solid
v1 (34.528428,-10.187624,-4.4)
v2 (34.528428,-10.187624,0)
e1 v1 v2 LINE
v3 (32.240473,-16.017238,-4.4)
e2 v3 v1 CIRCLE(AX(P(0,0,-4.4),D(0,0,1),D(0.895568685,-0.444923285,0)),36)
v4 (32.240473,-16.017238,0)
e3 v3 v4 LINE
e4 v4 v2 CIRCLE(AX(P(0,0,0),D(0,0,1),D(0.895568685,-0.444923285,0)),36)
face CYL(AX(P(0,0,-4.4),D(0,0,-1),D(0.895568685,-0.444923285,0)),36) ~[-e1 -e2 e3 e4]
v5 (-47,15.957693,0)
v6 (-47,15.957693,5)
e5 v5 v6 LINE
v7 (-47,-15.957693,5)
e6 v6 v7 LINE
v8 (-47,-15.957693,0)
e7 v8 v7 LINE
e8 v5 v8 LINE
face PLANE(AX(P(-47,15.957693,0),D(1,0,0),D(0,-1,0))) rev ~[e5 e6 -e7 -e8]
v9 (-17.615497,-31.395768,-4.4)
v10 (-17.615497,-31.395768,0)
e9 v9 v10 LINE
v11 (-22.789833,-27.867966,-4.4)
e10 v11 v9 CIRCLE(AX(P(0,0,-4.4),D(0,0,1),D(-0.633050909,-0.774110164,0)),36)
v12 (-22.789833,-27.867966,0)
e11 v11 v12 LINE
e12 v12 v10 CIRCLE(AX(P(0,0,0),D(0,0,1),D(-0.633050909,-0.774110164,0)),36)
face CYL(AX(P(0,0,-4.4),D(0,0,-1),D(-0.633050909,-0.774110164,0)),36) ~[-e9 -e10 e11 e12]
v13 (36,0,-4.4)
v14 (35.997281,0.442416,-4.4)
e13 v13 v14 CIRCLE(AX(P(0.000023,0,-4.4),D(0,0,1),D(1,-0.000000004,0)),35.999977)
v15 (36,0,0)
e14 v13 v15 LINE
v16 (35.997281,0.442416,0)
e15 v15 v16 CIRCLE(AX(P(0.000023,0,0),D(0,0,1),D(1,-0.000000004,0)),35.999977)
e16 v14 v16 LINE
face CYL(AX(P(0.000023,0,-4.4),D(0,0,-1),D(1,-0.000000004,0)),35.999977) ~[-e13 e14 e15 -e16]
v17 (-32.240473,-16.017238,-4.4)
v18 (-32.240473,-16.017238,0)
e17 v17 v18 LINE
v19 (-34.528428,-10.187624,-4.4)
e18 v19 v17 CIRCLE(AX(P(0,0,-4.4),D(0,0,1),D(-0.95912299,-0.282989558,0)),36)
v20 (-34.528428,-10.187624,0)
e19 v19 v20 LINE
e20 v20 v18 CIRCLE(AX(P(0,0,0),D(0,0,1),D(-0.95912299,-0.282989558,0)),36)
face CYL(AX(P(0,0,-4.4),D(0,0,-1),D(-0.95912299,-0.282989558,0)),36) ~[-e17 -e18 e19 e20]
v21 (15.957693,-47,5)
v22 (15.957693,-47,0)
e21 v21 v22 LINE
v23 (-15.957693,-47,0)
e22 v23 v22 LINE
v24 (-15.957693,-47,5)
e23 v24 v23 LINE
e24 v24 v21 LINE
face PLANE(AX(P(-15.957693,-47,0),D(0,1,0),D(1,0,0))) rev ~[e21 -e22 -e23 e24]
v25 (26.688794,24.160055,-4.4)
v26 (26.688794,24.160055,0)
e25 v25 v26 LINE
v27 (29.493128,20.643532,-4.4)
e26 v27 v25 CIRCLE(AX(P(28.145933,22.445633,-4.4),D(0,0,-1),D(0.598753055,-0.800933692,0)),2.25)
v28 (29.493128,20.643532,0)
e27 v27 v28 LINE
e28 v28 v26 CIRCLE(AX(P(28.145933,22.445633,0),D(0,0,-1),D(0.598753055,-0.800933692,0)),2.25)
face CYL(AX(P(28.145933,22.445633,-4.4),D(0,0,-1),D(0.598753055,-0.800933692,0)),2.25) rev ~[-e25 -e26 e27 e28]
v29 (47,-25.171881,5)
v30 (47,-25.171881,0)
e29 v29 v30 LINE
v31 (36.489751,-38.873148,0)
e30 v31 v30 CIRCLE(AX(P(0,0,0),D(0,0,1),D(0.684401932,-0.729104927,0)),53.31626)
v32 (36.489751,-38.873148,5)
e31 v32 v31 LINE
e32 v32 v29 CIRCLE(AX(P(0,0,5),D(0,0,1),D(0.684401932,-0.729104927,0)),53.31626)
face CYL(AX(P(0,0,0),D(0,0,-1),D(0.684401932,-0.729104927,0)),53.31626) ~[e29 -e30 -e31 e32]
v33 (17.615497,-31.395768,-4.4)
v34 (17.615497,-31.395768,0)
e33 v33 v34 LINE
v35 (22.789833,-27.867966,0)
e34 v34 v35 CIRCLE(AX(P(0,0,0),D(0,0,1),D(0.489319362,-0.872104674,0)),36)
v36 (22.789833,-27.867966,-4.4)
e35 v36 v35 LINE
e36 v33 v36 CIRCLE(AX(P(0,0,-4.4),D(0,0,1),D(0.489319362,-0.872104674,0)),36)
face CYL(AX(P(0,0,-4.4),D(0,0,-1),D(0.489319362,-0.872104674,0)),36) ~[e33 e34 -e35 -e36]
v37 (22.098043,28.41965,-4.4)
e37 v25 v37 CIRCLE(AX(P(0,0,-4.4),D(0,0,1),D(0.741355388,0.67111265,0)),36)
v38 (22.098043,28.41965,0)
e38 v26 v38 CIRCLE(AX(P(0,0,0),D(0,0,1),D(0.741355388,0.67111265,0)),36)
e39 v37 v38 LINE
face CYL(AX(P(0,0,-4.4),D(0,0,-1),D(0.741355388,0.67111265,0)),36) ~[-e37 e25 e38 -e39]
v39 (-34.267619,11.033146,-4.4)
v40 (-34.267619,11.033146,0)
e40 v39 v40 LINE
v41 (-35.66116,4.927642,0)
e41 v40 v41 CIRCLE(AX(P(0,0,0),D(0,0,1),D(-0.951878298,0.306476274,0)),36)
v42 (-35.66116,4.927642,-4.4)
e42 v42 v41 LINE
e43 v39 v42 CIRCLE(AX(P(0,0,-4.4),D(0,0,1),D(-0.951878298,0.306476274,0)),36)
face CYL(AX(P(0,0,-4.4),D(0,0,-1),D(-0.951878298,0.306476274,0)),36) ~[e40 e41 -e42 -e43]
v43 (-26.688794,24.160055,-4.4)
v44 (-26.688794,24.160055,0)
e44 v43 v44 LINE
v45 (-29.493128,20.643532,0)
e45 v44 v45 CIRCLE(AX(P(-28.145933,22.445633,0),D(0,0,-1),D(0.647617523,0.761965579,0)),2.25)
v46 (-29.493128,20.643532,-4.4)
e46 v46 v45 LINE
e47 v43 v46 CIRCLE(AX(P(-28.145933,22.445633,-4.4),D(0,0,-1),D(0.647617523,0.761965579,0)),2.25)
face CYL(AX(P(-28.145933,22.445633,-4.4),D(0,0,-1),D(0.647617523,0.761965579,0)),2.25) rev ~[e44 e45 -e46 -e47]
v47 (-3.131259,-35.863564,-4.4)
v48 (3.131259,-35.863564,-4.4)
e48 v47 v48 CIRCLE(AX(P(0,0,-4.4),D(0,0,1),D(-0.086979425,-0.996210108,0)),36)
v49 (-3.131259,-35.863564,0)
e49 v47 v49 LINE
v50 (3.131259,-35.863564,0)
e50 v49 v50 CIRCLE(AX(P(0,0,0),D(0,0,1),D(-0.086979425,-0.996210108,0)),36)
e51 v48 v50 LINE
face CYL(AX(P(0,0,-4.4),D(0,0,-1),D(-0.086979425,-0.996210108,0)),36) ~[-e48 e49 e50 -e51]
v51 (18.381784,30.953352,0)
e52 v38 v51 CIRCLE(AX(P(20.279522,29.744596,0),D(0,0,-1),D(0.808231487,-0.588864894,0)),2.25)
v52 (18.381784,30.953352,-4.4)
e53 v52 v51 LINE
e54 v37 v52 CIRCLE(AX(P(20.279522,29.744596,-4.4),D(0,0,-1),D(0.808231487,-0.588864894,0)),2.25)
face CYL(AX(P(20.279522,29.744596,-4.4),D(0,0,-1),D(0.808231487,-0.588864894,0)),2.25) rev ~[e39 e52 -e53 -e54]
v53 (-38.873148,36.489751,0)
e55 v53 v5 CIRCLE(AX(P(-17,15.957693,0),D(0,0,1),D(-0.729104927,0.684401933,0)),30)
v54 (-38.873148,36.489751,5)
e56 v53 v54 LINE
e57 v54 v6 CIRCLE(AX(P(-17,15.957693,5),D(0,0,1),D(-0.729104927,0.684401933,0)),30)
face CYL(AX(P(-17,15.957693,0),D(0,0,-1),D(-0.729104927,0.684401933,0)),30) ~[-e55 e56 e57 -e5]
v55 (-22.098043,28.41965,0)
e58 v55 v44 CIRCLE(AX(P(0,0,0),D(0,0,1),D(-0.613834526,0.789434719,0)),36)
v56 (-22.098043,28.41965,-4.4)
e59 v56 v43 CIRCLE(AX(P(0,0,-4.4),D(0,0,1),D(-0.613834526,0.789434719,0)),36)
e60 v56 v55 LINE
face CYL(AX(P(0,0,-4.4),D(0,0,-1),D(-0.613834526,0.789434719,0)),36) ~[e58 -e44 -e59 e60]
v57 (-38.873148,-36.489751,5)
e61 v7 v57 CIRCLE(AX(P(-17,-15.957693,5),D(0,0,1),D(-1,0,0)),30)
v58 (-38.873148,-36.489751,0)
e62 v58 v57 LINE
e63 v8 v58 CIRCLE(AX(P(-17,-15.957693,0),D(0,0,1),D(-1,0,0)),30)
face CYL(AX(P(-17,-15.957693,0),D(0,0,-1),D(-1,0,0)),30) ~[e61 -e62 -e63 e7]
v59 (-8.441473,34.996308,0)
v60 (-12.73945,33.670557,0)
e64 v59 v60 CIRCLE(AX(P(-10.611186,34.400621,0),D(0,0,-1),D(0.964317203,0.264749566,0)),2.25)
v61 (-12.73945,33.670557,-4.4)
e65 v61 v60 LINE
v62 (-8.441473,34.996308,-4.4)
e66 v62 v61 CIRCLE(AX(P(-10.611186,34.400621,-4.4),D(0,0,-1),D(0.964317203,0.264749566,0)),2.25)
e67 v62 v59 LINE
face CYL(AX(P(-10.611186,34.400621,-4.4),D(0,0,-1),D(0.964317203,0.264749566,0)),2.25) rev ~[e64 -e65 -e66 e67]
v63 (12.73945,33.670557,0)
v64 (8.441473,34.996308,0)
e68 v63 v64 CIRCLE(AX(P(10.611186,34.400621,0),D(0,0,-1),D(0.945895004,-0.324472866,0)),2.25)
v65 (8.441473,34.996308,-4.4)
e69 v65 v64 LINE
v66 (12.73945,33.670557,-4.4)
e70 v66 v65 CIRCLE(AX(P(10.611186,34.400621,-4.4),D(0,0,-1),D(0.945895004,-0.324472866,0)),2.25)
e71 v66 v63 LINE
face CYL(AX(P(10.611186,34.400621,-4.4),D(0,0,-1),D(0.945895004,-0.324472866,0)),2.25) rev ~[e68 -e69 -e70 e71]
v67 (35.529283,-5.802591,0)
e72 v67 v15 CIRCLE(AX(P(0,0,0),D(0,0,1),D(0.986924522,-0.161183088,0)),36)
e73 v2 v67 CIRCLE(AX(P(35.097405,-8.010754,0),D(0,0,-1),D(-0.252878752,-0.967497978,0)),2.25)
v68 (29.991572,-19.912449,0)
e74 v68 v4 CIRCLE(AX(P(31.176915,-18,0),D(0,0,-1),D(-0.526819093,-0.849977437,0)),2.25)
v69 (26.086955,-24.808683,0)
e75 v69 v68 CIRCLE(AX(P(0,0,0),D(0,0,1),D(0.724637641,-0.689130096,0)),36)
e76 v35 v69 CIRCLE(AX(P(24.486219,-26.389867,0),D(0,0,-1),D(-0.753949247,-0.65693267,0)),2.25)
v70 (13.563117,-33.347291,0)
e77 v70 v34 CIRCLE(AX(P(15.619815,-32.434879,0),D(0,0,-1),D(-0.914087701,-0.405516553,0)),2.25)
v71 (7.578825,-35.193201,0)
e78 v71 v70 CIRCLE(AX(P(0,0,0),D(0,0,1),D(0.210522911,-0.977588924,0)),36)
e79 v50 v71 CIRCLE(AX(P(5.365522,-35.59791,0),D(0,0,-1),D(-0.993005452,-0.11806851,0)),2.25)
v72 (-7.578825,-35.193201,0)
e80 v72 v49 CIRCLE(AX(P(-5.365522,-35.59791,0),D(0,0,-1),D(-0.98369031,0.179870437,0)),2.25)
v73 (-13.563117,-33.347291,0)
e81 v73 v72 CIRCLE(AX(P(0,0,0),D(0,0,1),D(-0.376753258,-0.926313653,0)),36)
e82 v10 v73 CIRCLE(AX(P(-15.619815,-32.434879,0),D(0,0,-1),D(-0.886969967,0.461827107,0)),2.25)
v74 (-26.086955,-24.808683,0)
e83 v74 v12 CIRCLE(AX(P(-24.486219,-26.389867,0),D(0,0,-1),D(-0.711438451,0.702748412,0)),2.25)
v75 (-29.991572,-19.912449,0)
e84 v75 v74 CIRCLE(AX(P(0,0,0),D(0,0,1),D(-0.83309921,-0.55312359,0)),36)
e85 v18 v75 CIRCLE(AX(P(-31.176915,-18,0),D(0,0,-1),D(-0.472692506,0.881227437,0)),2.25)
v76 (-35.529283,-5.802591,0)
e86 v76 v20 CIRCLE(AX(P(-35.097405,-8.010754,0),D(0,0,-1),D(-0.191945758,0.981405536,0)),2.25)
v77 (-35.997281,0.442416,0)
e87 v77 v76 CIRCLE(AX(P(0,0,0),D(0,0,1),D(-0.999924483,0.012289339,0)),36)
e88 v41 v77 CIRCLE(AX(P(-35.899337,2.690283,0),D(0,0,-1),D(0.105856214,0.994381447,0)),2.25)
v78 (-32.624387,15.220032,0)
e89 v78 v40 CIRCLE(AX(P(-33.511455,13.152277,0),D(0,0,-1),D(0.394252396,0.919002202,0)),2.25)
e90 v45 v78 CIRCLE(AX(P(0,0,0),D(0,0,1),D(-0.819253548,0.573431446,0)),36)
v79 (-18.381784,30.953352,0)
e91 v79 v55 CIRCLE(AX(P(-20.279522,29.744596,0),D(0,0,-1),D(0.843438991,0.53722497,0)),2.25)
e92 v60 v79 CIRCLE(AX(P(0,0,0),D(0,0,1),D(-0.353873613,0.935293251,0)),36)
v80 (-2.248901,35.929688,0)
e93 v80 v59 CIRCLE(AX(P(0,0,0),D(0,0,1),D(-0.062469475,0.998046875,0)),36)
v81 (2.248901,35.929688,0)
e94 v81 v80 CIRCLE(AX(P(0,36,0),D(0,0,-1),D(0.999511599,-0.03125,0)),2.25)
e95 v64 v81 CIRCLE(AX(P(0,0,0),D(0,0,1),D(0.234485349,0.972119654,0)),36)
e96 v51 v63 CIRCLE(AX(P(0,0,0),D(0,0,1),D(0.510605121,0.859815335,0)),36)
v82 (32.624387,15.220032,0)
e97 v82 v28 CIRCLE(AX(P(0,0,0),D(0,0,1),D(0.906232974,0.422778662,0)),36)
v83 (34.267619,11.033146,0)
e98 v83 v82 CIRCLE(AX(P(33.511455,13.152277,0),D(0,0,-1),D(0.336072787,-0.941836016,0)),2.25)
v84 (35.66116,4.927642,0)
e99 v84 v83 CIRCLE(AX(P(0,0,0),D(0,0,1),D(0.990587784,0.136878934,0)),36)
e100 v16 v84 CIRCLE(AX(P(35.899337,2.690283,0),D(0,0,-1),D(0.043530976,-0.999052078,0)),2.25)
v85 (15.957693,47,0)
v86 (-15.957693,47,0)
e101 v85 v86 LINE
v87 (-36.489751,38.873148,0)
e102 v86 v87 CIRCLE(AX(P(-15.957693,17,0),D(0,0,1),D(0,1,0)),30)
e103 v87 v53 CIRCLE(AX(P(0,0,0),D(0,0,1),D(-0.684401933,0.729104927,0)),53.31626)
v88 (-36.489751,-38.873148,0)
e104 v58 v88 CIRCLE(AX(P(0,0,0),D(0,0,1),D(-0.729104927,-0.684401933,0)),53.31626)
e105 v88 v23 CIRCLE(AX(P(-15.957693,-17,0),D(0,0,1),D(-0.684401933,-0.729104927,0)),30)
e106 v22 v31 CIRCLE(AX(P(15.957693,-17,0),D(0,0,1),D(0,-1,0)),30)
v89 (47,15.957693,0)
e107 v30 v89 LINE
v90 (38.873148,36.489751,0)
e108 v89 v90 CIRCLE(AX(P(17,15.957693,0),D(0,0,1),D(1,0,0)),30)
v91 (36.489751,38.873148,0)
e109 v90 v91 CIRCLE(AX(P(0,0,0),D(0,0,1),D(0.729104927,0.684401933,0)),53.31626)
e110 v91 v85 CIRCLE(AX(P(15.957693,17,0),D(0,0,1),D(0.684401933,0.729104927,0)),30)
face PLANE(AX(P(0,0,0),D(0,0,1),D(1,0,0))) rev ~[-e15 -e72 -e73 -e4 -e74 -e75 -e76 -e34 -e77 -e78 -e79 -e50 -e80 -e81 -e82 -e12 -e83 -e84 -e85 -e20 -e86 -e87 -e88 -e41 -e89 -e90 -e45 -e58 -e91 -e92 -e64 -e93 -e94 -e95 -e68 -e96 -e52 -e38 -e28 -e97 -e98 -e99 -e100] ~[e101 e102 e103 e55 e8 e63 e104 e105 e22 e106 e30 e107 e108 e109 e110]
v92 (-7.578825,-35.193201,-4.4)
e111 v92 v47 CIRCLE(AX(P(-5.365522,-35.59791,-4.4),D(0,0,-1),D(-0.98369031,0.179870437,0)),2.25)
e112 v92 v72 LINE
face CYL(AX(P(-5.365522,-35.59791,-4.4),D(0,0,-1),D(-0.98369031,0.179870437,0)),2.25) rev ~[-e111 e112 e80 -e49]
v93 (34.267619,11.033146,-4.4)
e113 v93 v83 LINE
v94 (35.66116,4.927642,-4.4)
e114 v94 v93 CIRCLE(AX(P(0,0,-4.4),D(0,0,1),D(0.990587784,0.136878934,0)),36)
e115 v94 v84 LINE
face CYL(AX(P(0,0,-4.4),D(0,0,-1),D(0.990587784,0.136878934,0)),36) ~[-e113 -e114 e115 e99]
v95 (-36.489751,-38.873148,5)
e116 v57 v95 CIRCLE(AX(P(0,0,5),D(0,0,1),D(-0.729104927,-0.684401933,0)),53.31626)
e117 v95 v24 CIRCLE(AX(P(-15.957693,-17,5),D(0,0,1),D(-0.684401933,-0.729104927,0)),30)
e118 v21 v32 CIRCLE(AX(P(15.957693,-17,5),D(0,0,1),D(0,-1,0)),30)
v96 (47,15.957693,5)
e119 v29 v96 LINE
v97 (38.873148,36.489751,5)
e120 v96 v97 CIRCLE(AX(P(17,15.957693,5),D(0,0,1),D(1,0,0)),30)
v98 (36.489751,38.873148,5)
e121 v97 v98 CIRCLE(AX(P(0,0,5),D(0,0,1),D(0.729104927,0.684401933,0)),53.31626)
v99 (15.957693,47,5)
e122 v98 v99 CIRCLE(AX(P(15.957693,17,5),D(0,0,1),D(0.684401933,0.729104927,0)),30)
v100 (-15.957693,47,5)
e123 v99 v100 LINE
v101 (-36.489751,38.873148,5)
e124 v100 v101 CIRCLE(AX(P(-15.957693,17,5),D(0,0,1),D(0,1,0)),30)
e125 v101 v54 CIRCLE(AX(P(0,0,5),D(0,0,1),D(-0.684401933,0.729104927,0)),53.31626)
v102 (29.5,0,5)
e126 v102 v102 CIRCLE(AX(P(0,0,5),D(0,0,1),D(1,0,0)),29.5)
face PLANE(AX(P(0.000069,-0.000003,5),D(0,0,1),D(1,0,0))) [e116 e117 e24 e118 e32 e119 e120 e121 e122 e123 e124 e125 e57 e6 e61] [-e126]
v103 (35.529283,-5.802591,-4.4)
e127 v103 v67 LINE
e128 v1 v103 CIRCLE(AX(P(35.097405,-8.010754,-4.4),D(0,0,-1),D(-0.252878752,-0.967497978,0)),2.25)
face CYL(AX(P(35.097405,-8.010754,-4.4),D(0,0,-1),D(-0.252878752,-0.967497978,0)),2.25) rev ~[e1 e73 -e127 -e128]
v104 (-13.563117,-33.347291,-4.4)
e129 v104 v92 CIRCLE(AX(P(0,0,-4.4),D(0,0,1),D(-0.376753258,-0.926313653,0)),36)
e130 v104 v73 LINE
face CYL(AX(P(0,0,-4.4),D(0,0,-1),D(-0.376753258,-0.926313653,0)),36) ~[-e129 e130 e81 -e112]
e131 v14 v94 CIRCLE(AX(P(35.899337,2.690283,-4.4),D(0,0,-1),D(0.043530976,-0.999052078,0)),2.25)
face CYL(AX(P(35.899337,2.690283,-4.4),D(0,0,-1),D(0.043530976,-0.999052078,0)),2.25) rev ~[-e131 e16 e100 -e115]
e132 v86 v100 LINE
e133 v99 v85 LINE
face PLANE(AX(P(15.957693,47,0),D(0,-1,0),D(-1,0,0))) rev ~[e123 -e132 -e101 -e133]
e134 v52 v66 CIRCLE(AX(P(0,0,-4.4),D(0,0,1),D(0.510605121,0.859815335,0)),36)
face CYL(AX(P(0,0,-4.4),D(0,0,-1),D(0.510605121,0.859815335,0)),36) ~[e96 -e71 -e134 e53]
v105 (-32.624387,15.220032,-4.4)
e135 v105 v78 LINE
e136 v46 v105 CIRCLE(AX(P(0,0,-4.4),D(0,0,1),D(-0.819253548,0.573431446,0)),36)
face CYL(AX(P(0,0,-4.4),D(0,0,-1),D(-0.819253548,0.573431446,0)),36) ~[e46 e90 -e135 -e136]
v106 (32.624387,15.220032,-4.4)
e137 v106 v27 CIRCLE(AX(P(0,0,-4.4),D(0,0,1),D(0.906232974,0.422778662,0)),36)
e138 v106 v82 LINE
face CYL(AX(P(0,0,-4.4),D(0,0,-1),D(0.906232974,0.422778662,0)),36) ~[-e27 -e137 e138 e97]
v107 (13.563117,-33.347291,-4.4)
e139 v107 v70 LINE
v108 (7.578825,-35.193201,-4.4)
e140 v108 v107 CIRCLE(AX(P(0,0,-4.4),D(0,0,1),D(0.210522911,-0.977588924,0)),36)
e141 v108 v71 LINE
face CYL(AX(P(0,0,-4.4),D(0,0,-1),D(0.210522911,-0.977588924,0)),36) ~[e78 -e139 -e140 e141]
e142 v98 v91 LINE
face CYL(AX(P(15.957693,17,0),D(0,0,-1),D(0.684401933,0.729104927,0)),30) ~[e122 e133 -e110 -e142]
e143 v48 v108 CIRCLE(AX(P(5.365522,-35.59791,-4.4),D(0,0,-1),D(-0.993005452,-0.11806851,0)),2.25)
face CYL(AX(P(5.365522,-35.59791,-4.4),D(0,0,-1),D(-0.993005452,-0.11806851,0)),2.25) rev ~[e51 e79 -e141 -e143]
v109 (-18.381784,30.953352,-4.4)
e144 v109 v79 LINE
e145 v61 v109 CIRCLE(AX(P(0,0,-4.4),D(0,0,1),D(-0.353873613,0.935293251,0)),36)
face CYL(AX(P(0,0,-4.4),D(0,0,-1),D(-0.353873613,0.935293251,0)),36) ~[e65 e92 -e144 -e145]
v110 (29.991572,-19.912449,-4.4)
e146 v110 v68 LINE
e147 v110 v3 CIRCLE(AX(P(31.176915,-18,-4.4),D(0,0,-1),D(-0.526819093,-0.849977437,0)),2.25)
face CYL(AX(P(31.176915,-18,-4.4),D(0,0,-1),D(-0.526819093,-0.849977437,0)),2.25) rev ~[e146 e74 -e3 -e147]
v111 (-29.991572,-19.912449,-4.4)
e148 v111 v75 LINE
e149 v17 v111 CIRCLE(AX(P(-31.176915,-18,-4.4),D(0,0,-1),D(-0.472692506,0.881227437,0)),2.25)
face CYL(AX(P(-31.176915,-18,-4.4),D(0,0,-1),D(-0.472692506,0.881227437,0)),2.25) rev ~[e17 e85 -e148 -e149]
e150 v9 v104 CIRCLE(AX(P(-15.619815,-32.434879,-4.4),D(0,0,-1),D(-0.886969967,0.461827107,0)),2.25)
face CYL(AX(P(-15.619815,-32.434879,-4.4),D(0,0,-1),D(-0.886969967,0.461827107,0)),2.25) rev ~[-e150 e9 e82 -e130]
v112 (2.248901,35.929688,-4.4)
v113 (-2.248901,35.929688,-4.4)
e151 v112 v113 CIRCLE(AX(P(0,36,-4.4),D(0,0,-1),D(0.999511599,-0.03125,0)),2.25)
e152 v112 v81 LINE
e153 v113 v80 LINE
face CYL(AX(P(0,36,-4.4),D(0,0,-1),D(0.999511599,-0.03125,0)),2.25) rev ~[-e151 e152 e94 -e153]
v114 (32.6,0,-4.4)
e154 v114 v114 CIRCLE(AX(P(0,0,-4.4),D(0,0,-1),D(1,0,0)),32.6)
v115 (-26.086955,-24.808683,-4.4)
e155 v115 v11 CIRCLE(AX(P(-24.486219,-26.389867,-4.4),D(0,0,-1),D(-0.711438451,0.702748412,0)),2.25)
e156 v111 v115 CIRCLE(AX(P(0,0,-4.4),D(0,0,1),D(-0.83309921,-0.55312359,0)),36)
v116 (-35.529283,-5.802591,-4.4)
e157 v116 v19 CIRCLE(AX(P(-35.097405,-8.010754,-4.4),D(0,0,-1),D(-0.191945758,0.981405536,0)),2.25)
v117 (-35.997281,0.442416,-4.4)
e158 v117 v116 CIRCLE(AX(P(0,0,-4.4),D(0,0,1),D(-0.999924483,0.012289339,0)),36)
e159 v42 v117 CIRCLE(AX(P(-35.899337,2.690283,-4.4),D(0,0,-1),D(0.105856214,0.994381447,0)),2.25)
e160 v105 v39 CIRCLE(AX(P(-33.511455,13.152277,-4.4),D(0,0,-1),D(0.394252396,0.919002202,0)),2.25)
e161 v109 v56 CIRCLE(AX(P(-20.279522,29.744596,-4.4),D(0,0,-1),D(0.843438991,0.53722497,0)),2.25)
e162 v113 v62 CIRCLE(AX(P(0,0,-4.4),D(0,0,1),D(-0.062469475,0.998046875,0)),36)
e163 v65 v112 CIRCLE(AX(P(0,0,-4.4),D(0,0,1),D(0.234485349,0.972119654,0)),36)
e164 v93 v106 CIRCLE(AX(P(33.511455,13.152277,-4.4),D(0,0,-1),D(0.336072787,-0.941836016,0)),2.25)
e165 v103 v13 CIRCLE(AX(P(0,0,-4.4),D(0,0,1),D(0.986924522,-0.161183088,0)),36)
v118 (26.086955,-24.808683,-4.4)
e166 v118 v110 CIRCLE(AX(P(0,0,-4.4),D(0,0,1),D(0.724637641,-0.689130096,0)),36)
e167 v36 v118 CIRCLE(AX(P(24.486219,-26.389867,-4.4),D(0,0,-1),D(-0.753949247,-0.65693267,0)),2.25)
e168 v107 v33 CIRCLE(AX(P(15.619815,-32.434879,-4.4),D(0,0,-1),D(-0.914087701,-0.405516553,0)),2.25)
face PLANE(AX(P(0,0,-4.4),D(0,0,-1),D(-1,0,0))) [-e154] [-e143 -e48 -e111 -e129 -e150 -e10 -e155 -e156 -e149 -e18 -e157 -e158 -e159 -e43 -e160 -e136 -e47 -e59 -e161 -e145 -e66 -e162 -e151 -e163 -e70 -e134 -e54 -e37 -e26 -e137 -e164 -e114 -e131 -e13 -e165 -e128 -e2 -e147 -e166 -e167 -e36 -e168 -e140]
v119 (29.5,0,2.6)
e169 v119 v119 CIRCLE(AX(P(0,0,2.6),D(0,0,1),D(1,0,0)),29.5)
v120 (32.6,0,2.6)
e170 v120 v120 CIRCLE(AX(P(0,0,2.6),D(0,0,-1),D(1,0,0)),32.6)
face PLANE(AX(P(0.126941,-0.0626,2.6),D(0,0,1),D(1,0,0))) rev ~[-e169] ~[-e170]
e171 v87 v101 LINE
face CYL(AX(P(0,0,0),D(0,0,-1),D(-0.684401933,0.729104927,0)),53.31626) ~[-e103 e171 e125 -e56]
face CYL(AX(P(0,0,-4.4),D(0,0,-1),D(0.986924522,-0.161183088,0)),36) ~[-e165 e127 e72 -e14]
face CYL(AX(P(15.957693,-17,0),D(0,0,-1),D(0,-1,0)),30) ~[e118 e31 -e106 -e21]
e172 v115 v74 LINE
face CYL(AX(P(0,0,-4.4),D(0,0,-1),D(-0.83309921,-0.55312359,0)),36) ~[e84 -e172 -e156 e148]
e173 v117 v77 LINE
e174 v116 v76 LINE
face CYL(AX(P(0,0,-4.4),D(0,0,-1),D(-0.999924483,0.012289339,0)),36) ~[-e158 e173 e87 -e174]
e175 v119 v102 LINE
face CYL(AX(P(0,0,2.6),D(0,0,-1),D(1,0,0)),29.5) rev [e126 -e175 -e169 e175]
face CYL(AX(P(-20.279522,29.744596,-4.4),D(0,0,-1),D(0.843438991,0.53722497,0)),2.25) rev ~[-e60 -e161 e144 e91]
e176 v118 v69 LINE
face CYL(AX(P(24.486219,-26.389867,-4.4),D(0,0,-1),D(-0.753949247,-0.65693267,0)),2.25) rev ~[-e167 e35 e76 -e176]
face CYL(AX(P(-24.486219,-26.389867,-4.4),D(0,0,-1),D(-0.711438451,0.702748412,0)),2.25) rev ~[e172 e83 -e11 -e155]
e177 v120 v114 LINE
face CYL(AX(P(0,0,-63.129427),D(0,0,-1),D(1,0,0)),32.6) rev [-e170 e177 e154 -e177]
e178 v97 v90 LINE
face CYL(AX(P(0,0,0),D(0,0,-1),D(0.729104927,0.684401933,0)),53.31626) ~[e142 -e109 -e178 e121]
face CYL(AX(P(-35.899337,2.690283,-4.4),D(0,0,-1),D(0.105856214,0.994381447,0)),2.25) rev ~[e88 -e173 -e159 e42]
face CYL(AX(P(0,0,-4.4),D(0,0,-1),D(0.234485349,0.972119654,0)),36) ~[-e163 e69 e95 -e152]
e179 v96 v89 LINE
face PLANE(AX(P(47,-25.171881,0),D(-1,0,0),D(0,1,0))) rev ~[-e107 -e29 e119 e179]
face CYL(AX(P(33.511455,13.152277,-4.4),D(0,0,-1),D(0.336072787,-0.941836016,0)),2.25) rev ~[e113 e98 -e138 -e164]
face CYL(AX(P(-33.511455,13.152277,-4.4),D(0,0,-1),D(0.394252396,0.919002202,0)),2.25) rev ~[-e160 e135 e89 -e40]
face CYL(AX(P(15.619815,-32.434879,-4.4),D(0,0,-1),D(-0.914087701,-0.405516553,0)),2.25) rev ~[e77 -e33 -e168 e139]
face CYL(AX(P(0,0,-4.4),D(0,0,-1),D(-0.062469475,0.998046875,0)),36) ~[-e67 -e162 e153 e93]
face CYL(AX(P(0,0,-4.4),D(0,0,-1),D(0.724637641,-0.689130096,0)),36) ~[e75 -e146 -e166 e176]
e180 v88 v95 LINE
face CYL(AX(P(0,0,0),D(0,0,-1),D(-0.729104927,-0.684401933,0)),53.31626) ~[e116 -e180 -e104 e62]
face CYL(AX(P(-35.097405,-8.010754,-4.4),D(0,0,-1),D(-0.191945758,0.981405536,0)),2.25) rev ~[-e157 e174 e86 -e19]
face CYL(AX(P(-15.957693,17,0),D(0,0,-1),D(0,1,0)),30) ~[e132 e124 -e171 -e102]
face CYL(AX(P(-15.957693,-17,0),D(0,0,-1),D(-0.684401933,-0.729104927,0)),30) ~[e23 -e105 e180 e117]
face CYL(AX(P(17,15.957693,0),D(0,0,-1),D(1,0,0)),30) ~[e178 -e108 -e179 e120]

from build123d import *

# Parameters (mm, degrees)
SKETCH1_R               = 36
BOSS_EXTRUDE1_DEPTH     = 5
BOSS_EXTRUDE2_START     = -4.4
BOSS_EXTRUDE2_DEPTH     = 4.4
BOSS_EXTRUDE3_START     = -5
BOSS_EXTRUDE3_DEPTH     = 5
BOSS_EXTRUDE4_START     = 4.4
SKETCH3_R               = 32.7
SKETCH3_R_2             = 32.6
BOSS_EXTRUDE4_DEPTH     = 4.4
CUT_EXTRUDE1_DEPTH      = 68.129427228
CUT_EXTRUDE1_DEPTH_BACK = 68.129427228
SKETCH4_R               = 32.6
BOSS_EXTRUDE5_START     = -2.4
SKETCH5_R               = 29.5
BOSS_EXTRUDE5_DEPTH     = 2.4


with BuildPart() as part:
    # Sketch1 → Boss-Extrude1 (new body)
    # profile 1 of 3: a face of its own
    with BuildSketch(Plane.XY):
        with BuildLine():
            Line((15.957693357, 47), (-15.957693357, 47))
            ThreePointArc((-15.957693357, 47), (-26.99865268, 44.894394011), (-36.489751331, 38.873147815))
            ThreePointArc((-36.489751331, 38.873147815), (-37.700288946, 37.700288946), (-38.873147815, 36.489751331))
            ThreePointArc((-38.873147815, 36.489751331), (-44.894394011, 26.99865268), (-47, 15.957693357))
            Line((-47, 15.957693357), (-47, -15.957693357))
            ThreePointArc((-47, -15.957693357), (-44.894394011, -26.99865268), (-38.873147815, -36.489751331))
            ThreePointArc((-38.873147815, -36.489751331), (-37.700288946, -37.700288946), (-36.489751331, -38.873147815))
            ThreePointArc((-36.489751331, -38.873147815), (-26.99865268, -44.894394011), (-15.957693357, -47))
            Line((-15.957693357, -47), (15.957693357, -47))
            ThreePointArc((15.957693357, -47), (26.99865268, -44.894394011), (36.489751331, -38.873147815))
            ThreePointArc((36.489751331, -38.873147815), (42.303260219, -32.45085127), (47, -25.171880606))
            Line((47, -25.171880606), (47, 15.957693357))
            ThreePointArc((47, 15.957693357), (44.894394011, 26.99865268), (38.873147815, 36.489751331))
            ThreePointArc((38.873147815, 36.489751331), (37.700288946, 37.700288946), (36.489751331, 38.873147815))
            ThreePointArc((36.489751331, 38.873147815), (26.99865268, 44.894394011), (15.957693357, 47))
        make_face()
        Circle(SKETCH1_R, mode=Mode.SUBTRACT)
    # profile 2 of 3: a face of its own
    with BuildSketch(Plane.XY):
        with BuildLine():
            ThreePointArc((35.529282793, -5.802591166), (35.882127728, -2.910826297), (36, 0))
            ThreePointArc((36, 0), (35.999320343, 0.221212273), (35.997281396, 0.442416194))
            ThreePointArc((35.997281396, 0.442416194), (33.655628155, 2.522140659), (35.661160217, 4.927641625))
            ThreePointArc((35.661160217, 4.927641625), (35.097404839, 8.010753622), (34.267618722, 11.03314584))
            ThreePointArc((34.267618722, 11.03314584), (31.416989017, 12.330259572), (32.62438706, 15.220031833))
            ThreePointArc((32.62438706, 15.220031833), (31.176914536, 18), (29.493127743, 20.64353206))
            ThreePointArc((29.493127743, 20.64353206), (26.386812533, 21.042780813), (26.688793942, 24.16005542))
            ThreePointArc((26.688793942, 24.16005542), (24.48621856, 26.389867386), (22.098042936, 28.419649864))
            ThreePointArc((22.098042936, 28.419649864), (19.01205196, 27.885558633), (18.381784361, 30.953352059))
            ThreePointArc((18.381784361, 30.953352059), (15.619814608, 32.434879244), (12.739450039, 33.67055706))
            ThreePointArc((12.739450039, 33.67055706), (9.947987136, 32.250582195), (8.441472573, 34.996307531))
            ThreePointArc((8.441472573, 34.996307531), (5.365521582, 35.597909744), (2.248901099, 35.9296875))
            ThreePointArc((2.248901099, 35.9296875), (0, 33.75), (-2.248901099, 35.9296875))
            ThreePointArc((-2.248901099, 35.9296875), (-5.365521582, 35.597909744), (-8.441472573, 34.996307531))
            ThreePointArc((-8.441472573, 34.996307531), (-9.947987136, 32.250582195), (-12.739450039, 33.67055706))
            ThreePointArc((-12.739450039, 33.67055706), (-15.619814608, 32.434879244), (-18.381784361, 30.953352059))
            ThreePointArc((-18.381784361, 30.953352059), (-19.01205196, 27.885558633), (-22.098042936, 28.419649864))
            ThreePointArc((-22.098042936, 28.419649864), (-24.48621856, 26.389867386), (-26.688793942, 24.16005542))
            ThreePointArc((-26.688793942, 24.16005542), (-26.386812533, 21.042780813), (-29.493127743, 20.64353206))
            ThreePointArc((-29.493127743, 20.64353206), (-31.176914536, 18), (-32.62438706, 15.220031833))
            ThreePointArc((-32.62438706, 15.220031833), (-31.416989017, 12.330259572), (-34.267618722, 11.03314584))
            ThreePointArc((-34.267618722, 11.03314584), (-35.097404839, 8.010753622), (-35.661160217, 4.927641625))
            ThreePointArc((-35.661160217, 4.927641625), (-33.655628155, 2.522140659), (-35.997281396, 0.442416194))
            ThreePointArc((-35.997281396, 0.442416194), (-35.899336699, -2.690283369), (-35.529282793, -5.802591166))
            ThreePointArc((-35.529282793, -5.802591166), (-32.903817036, -7.510081521), (-34.528427647, -10.187624072))
            ThreePointArc((-34.528427647, -10.187624072), (-33.511454951, -13.152276877), (-32.240472674, -16.017238268))
            ThreePointArc((-32.240472674, -16.017238268), (-29.228357378, -16.875), (-29.991571576, -19.912449232))
            ThreePointArc((-29.991571576, -19.912449232), (-28.145933369, -22.445632867), (-26.086955074, -24.808683459))
            ThreePointArc((-26.086955074, -24.808683459), (-22.9558299, -24.740500674), (-22.789832754, -27.867965894))
            ThreePointArc((-22.789832754, -27.867965894), (-20.27952209, -29.744595875), (-17.615497035, -31.395768253))
            ThreePointArc((-17.615497035, -31.395768253), (-14.643576195, -30.407699292), (-13.563117281, -33.347291489))
            ThreePointArc((-13.563117281, -33.347291489), (-10.611186279, -34.400621008), (-7.57882478, -35.19320126))
            ThreePointArc((-7.57882478, -35.19320126), (-5.030176483, -33.373040385), (-3.131259316, -35.863563893))
            ThreePointArc((-3.131259316, -35.863563893), (0, -36), (3.131259316, -35.863563893))
            ThreePointArc((3.131259316, -35.863563893), (5.030176483, -33.373040385), (7.57882478, -35.19320126))
            ThreePointArc((7.57882478, -35.19320126), (10.611186279, -34.400621008), (13.563117281, -33.347291489))
            ThreePointArc((13.563117281, -33.347291489), (14.643576195, -30.407699292), (17.615497035, -31.395768253))
            ThreePointArc((17.615497035, -31.395768253), (20.27952209, -29.744595875), (22.789832754, -27.867965894))
            ThreePointArc((22.789832754, -27.867965894), (22.9558299, -24.740500674), (26.086955074, -24.808683459))
            ThreePointArc((26.086955074, -24.808683459), (28.145933369, -22.445632867), (29.991571576, -19.912449232))
            ThreePointArc((29.991571576, -19.912449232), (29.228357378, -16.875), (32.240472674, -16.017238268))
            ThreePointArc((32.240472674, -16.017238268), (33.511454951, -13.152276877), (34.528427647, -10.187624072))
            ThreePointArc((34.528427647, -10.187624072), (32.903817036, -7.510081521), (35.529282793, -5.802591166))
        make_face()
        with BuildLine():
            ThreePointArc((-32.7, 0), (0, 32.7), (32.7, 0))
            ThreePointArc((32.7, 0), (0, -32.7), (-32.7, 0))
        make_face(mode=Mode.SUBTRACT)
    # profile 3 of 3: a face of its own
    with BuildSketch(Plane.XY):
        with BuildLine():
            ThreePointArc((32.7, 0), (0, 32.7), (-32.7, 0))
            ThreePointArc((-32.7, 0), (0, -32.7), (32.7, 0))
        make_face()
    extrude(amount=BOSS_EXTRUDE1_DEPTH)

    # Sketch1<4> → Boss-Extrude2 (add)
    with BuildSketch(Plane.XY.offset(BOSS_EXTRUDE2_START)):
        with BuildLine():
            ThreePointArc((35.529282793, -5.802591166), (35.882127728, -2.910826297), (36, 0))
            ThreePointArc((36, 0), (35.999320343, 0.221212273), (35.997281396, 0.442416194))
            ThreePointArc((35.997281396, 0.442416194), (33.655628155, 2.522140659), (35.661160217, 4.927641625))
            ThreePointArc((35.661160217, 4.927641625), (35.097404839, 8.010753622), (34.267618722, 11.03314584))
            ThreePointArc((34.267618722, 11.03314584), (31.416989017, 12.330259572), (32.62438706, 15.220031833))
            ThreePointArc((32.62438706, 15.220031833), (31.176914536, 18), (29.493127743, 20.64353206))
            ThreePointArc((29.493127743, 20.64353206), (26.386812533, 21.042780813), (26.688793942, 24.16005542))
            ThreePointArc((26.688793942, 24.16005542), (24.48621856, 26.389867386), (22.098042936, 28.419649864))
            ThreePointArc((22.098042936, 28.419649864), (19.01205196, 27.885558633), (18.381784361, 30.953352059))
            ThreePointArc((18.381784361, 30.953352059), (15.619814608, 32.434879244), (12.739450039, 33.67055706))
            ThreePointArc((12.739450039, 33.67055706), (9.947987136, 32.250582195), (8.441472573, 34.996307531))
            ThreePointArc((8.441472573, 34.996307531), (5.365521582, 35.597909744), (2.248901099, 35.9296875))
            ThreePointArc((2.248901099, 35.9296875), (0, 33.75), (-2.248901099, 35.9296875))
            ThreePointArc((-2.248901099, 35.9296875), (-5.365521582, 35.597909744), (-8.441472573, 34.996307531))
            ThreePointArc((-8.441472573, 34.996307531), (-9.947987136, 32.250582195), (-12.739450039, 33.67055706))
            ThreePointArc((-12.739450039, 33.67055706), (-15.619814608, 32.434879244), (-18.381784361, 30.953352059))
            ThreePointArc((-18.381784361, 30.953352059), (-19.01205196, 27.885558633), (-22.098042936, 28.419649864))
            ThreePointArc((-22.098042936, 28.419649864), (-24.48621856, 26.389867386), (-26.688793942, 24.16005542))
            ThreePointArc((-26.688793942, 24.16005542), (-26.386812533, 21.042780813), (-29.493127743, 20.64353206))
            ThreePointArc((-29.493127743, 20.64353206), (-31.176914536, 18), (-32.62438706, 15.220031833))
            ThreePointArc((-32.62438706, 15.220031833), (-31.416989017, 12.330259572), (-34.267618722, 11.03314584))
            ThreePointArc((-34.267618722, 11.03314584), (-35.097404839, 8.010753622), (-35.661160217, 4.927641625))
            ThreePointArc((-35.661160217, 4.927641625), (-33.655628155, 2.522140659), (-35.997281396, 0.442416194))
            ThreePointArc((-35.997281396, 0.442416194), (-35.899336699, -2.690283369), (-35.529282793, -5.802591166))
            ThreePointArc((-35.529282793, -5.802591166), (-32.903817036, -7.510081521), (-34.528427647, -10.187624072))
            ThreePointArc((-34.528427647, -10.187624072), (-33.511454951, -13.152276877), (-32.240472674, -16.017238268))
            ThreePointArc((-32.240472674, -16.017238268), (-29.228357378, -16.875), (-29.991571576, -19.912449232))
            ThreePointArc((-29.991571576, -19.912449232), (-28.145933369, -22.445632867), (-26.086955074, -24.808683459))
            ThreePointArc((-26.086955074, -24.808683459), (-22.9558299, -24.740500674), (-22.789832754, -27.867965894))
            ThreePointArc((-22.789832754, -27.867965894), (-20.27952209, -29.744595875), (-17.615497035, -31.395768253))
            ThreePointArc((-17.615497035, -31.395768253), (-14.643576195, -30.407699292), (-13.563117281, -33.347291489))
            ThreePointArc((-13.563117281, -33.347291489), (-10.611186279, -34.400621008), (-7.57882478, -35.19320126))
            ThreePointArc((-7.57882478, -35.19320126), (-5.030176483, -33.373040385), (-3.131259316, -35.863563893))
            ThreePointArc((-3.131259316, -35.863563893), (0, -36), (3.131259316, -35.863563893))
            ThreePointArc((3.131259316, -35.863563893), (5.030176483, -33.373040385), (7.57882478, -35.19320126))
            ThreePointArc((7.57882478, -35.19320126), (10.611186279, -34.400621008), (13.563117281, -33.347291489))
            ThreePointArc((13.563117281, -33.347291489), (14.643576195, -30.407699292), (17.615497035, -31.395768253))
            ThreePointArc((17.615497035, -31.395768253), (20.27952209, -29.744595875), (22.789832754, -27.867965894))
            ThreePointArc((22.789832754, -27.867965894), (22.9558299, -24.740500674), (26.086955074, -24.808683459))
            ThreePointArc((26.086955074, -24.808683459), (28.145933369, -22.445632867), (29.991571576, -19.912449232))
            ThreePointArc((29.991571576, -19.912449232), (29.228357378, -16.875), (32.240472674, -16.017238268))
            ThreePointArc((32.240472674, -16.017238268), (33.511454951, -13.152276877), (34.528427647, -10.187624072))
            ThreePointArc((34.528427647, -10.187624072), (32.903817036, -7.510081521), (35.529282793, -5.802591166))
        make_face()
        with BuildLine():
            ThreePointArc((-32.7, 0), (0, 32.7), (32.7, 0))
            ThreePointArc((32.7, 0), (0, -32.7), (-32.7, 0))
        make_face(mode=Mode.SUBTRACT)
    extrude(amount=BOSS_EXTRUDE2_DEPTH)

    # Sketch2 → Boss-Extrude3 (add)
    with BuildSketch(Plane.XY.offset(5).offset(BOSS_EXTRUDE3_START)):
        with BuildLine():
            Line((15.957693357, 47), (-15.957693357, 47))
            ThreePointArc((-15.957693357, 47), (-26.99865268, 44.894394011), (-36.489751331, 38.873147815))
            ThreePointArc((-36.489751331, 38.873147815), (-37.700288946, 37.700288946), (-38.873147815, 36.489751331))
            ThreePointArc((-38.873147815, 36.489751331), (-44.894394011, 26.99865268), (-47, 15.957693357))
            Line((-47, 15.957693357), (-47, -15.957693357))
            ThreePointArc((-47, -15.957693357), (-44.894394011, -26.99865268), (-38.873147815, -36.489751331))
            ThreePointArc((-38.873147815, -36.489751331), (-37.700288946, -37.700288946), (-36.489751331, -38.873147815))
            ThreePointArc((-36.489751331, -38.873147815), (-26.99865268, -44.894394011), (-15.957693357, -47))
            Line((-15.957693357, -47), (15.957693357, -47))
            ThreePointArc((15.957693357, -47), (26.99865268, -44.894394011), (36.489751331, -38.873147815))
            ThreePointArc((36.489751331, -38.873147815), (42.303260219, -32.45085127), (47, -25.171880606))
            Line((47, -25.171880606), (47, 15.957693357))
            ThreePointArc((47, 15.957693357), (44.894394011, 26.99865268), (38.873147815, 36.489751331))
            ThreePointArc((38.873147815, 36.489751331), (37.700288946, 37.700288946), (36.489751331, 38.873147815))
            ThreePointArc((36.489751331, 38.873147815), (26.99865268, 44.894394011), (15.957693357, 47))
        make_face()
    extrude(amount=BOSS_EXTRUDE3_DEPTH)

    # Sketch3 → Boss-Extrude4 (add)
    with BuildSketch(Plane(origin=(0, 0, 0), x_dir=(-1, 0, 0), z_dir=(0, 0, -1)).offset(BOSS_EXTRUDE4_START)):
        Circle(SKETCH3_R)
        Circle(SKETCH3_R_2, mode=Mode.SUBTRACT)
    extrude(amount=-BOSS_EXTRUDE4_DEPTH)

    # Sketch4 → Cut-Extrude1 (cut, two sides: drawn at the far end of the back side and taken through both)
    with BuildSketch(Plane.XY.offset(5).offset(-CUT_EXTRUDE1_DEPTH_BACK)):
        Circle(SKETCH4_R)
    extrude(amount=CUT_EXTRUDE1_DEPTH + CUT_EXTRUDE1_DEPTH_BACK, mode=Mode.SUBTRACT)

    # Sketch5 → Boss-Extrude5 (add)
    with BuildSketch(Plane.XY.offset(5).offset(BOSS_EXTRUDE5_START)):
        with BuildLine():
            Line((15.957693357, 47), (-15.957693357, 47))
            ThreePointArc((-15.957693357, 47), (-26.99865268, 44.894394011), (-36.489751331, 38.873147815))
            ThreePointArc((-36.489751331, 38.873147815), (-37.700288946, 37.700288946), (-38.873147815, 36.489751331))
            ThreePointArc((-38.873147815, 36.489751331), (-44.894394011, 26.99865268), (-47, 15.957693357))
            Line((-47, 15.957693357), (-47, -15.957693357))
            ThreePointArc((-47, -15.957693357), (-44.894394011, -26.99865268), (-38.873147815, -36.489751331))
            ThreePointArc((-38.873147815, -36.489751331), (-37.700288946, -37.700288946), (-36.489751331, -38.873147815))
            ThreePointArc((-36.489751331, -38.873147815), (-26.99865268, -44.894394011), (-15.957693357, -47))
            Line((-15.957693357, -47), (15.957693357, -47))
            ThreePointArc((15.957693357, -47), (26.99865268, -44.894394011), (36.489751331, -38.873147815))
            ThreePointArc((36.489751331, -38.873147815), (42.303260219, -32.45085127), (47, -25.171880606))
            Line((47, -25.171880606), (47, 15.957693357))
            ThreePointArc((47, 15.957693357), (44.894394011, 26.99865268), (38.873147815, 36.489751331))
            ThreePointArc((38.873147815, 36.489751331), (37.700288946, 37.700288946), (36.489751331, 38.873147815))
            ThreePointArc((36.489751331, 38.873147815), (26.99865268, 44.894394011), (15.957693357, 47))
        make_face()
        Circle(SKETCH5_R, mode=Mode.SUBTRACT)
    extrude(amount=BOSS_EXTRUDE5_DEPTH)


solid = part.part
